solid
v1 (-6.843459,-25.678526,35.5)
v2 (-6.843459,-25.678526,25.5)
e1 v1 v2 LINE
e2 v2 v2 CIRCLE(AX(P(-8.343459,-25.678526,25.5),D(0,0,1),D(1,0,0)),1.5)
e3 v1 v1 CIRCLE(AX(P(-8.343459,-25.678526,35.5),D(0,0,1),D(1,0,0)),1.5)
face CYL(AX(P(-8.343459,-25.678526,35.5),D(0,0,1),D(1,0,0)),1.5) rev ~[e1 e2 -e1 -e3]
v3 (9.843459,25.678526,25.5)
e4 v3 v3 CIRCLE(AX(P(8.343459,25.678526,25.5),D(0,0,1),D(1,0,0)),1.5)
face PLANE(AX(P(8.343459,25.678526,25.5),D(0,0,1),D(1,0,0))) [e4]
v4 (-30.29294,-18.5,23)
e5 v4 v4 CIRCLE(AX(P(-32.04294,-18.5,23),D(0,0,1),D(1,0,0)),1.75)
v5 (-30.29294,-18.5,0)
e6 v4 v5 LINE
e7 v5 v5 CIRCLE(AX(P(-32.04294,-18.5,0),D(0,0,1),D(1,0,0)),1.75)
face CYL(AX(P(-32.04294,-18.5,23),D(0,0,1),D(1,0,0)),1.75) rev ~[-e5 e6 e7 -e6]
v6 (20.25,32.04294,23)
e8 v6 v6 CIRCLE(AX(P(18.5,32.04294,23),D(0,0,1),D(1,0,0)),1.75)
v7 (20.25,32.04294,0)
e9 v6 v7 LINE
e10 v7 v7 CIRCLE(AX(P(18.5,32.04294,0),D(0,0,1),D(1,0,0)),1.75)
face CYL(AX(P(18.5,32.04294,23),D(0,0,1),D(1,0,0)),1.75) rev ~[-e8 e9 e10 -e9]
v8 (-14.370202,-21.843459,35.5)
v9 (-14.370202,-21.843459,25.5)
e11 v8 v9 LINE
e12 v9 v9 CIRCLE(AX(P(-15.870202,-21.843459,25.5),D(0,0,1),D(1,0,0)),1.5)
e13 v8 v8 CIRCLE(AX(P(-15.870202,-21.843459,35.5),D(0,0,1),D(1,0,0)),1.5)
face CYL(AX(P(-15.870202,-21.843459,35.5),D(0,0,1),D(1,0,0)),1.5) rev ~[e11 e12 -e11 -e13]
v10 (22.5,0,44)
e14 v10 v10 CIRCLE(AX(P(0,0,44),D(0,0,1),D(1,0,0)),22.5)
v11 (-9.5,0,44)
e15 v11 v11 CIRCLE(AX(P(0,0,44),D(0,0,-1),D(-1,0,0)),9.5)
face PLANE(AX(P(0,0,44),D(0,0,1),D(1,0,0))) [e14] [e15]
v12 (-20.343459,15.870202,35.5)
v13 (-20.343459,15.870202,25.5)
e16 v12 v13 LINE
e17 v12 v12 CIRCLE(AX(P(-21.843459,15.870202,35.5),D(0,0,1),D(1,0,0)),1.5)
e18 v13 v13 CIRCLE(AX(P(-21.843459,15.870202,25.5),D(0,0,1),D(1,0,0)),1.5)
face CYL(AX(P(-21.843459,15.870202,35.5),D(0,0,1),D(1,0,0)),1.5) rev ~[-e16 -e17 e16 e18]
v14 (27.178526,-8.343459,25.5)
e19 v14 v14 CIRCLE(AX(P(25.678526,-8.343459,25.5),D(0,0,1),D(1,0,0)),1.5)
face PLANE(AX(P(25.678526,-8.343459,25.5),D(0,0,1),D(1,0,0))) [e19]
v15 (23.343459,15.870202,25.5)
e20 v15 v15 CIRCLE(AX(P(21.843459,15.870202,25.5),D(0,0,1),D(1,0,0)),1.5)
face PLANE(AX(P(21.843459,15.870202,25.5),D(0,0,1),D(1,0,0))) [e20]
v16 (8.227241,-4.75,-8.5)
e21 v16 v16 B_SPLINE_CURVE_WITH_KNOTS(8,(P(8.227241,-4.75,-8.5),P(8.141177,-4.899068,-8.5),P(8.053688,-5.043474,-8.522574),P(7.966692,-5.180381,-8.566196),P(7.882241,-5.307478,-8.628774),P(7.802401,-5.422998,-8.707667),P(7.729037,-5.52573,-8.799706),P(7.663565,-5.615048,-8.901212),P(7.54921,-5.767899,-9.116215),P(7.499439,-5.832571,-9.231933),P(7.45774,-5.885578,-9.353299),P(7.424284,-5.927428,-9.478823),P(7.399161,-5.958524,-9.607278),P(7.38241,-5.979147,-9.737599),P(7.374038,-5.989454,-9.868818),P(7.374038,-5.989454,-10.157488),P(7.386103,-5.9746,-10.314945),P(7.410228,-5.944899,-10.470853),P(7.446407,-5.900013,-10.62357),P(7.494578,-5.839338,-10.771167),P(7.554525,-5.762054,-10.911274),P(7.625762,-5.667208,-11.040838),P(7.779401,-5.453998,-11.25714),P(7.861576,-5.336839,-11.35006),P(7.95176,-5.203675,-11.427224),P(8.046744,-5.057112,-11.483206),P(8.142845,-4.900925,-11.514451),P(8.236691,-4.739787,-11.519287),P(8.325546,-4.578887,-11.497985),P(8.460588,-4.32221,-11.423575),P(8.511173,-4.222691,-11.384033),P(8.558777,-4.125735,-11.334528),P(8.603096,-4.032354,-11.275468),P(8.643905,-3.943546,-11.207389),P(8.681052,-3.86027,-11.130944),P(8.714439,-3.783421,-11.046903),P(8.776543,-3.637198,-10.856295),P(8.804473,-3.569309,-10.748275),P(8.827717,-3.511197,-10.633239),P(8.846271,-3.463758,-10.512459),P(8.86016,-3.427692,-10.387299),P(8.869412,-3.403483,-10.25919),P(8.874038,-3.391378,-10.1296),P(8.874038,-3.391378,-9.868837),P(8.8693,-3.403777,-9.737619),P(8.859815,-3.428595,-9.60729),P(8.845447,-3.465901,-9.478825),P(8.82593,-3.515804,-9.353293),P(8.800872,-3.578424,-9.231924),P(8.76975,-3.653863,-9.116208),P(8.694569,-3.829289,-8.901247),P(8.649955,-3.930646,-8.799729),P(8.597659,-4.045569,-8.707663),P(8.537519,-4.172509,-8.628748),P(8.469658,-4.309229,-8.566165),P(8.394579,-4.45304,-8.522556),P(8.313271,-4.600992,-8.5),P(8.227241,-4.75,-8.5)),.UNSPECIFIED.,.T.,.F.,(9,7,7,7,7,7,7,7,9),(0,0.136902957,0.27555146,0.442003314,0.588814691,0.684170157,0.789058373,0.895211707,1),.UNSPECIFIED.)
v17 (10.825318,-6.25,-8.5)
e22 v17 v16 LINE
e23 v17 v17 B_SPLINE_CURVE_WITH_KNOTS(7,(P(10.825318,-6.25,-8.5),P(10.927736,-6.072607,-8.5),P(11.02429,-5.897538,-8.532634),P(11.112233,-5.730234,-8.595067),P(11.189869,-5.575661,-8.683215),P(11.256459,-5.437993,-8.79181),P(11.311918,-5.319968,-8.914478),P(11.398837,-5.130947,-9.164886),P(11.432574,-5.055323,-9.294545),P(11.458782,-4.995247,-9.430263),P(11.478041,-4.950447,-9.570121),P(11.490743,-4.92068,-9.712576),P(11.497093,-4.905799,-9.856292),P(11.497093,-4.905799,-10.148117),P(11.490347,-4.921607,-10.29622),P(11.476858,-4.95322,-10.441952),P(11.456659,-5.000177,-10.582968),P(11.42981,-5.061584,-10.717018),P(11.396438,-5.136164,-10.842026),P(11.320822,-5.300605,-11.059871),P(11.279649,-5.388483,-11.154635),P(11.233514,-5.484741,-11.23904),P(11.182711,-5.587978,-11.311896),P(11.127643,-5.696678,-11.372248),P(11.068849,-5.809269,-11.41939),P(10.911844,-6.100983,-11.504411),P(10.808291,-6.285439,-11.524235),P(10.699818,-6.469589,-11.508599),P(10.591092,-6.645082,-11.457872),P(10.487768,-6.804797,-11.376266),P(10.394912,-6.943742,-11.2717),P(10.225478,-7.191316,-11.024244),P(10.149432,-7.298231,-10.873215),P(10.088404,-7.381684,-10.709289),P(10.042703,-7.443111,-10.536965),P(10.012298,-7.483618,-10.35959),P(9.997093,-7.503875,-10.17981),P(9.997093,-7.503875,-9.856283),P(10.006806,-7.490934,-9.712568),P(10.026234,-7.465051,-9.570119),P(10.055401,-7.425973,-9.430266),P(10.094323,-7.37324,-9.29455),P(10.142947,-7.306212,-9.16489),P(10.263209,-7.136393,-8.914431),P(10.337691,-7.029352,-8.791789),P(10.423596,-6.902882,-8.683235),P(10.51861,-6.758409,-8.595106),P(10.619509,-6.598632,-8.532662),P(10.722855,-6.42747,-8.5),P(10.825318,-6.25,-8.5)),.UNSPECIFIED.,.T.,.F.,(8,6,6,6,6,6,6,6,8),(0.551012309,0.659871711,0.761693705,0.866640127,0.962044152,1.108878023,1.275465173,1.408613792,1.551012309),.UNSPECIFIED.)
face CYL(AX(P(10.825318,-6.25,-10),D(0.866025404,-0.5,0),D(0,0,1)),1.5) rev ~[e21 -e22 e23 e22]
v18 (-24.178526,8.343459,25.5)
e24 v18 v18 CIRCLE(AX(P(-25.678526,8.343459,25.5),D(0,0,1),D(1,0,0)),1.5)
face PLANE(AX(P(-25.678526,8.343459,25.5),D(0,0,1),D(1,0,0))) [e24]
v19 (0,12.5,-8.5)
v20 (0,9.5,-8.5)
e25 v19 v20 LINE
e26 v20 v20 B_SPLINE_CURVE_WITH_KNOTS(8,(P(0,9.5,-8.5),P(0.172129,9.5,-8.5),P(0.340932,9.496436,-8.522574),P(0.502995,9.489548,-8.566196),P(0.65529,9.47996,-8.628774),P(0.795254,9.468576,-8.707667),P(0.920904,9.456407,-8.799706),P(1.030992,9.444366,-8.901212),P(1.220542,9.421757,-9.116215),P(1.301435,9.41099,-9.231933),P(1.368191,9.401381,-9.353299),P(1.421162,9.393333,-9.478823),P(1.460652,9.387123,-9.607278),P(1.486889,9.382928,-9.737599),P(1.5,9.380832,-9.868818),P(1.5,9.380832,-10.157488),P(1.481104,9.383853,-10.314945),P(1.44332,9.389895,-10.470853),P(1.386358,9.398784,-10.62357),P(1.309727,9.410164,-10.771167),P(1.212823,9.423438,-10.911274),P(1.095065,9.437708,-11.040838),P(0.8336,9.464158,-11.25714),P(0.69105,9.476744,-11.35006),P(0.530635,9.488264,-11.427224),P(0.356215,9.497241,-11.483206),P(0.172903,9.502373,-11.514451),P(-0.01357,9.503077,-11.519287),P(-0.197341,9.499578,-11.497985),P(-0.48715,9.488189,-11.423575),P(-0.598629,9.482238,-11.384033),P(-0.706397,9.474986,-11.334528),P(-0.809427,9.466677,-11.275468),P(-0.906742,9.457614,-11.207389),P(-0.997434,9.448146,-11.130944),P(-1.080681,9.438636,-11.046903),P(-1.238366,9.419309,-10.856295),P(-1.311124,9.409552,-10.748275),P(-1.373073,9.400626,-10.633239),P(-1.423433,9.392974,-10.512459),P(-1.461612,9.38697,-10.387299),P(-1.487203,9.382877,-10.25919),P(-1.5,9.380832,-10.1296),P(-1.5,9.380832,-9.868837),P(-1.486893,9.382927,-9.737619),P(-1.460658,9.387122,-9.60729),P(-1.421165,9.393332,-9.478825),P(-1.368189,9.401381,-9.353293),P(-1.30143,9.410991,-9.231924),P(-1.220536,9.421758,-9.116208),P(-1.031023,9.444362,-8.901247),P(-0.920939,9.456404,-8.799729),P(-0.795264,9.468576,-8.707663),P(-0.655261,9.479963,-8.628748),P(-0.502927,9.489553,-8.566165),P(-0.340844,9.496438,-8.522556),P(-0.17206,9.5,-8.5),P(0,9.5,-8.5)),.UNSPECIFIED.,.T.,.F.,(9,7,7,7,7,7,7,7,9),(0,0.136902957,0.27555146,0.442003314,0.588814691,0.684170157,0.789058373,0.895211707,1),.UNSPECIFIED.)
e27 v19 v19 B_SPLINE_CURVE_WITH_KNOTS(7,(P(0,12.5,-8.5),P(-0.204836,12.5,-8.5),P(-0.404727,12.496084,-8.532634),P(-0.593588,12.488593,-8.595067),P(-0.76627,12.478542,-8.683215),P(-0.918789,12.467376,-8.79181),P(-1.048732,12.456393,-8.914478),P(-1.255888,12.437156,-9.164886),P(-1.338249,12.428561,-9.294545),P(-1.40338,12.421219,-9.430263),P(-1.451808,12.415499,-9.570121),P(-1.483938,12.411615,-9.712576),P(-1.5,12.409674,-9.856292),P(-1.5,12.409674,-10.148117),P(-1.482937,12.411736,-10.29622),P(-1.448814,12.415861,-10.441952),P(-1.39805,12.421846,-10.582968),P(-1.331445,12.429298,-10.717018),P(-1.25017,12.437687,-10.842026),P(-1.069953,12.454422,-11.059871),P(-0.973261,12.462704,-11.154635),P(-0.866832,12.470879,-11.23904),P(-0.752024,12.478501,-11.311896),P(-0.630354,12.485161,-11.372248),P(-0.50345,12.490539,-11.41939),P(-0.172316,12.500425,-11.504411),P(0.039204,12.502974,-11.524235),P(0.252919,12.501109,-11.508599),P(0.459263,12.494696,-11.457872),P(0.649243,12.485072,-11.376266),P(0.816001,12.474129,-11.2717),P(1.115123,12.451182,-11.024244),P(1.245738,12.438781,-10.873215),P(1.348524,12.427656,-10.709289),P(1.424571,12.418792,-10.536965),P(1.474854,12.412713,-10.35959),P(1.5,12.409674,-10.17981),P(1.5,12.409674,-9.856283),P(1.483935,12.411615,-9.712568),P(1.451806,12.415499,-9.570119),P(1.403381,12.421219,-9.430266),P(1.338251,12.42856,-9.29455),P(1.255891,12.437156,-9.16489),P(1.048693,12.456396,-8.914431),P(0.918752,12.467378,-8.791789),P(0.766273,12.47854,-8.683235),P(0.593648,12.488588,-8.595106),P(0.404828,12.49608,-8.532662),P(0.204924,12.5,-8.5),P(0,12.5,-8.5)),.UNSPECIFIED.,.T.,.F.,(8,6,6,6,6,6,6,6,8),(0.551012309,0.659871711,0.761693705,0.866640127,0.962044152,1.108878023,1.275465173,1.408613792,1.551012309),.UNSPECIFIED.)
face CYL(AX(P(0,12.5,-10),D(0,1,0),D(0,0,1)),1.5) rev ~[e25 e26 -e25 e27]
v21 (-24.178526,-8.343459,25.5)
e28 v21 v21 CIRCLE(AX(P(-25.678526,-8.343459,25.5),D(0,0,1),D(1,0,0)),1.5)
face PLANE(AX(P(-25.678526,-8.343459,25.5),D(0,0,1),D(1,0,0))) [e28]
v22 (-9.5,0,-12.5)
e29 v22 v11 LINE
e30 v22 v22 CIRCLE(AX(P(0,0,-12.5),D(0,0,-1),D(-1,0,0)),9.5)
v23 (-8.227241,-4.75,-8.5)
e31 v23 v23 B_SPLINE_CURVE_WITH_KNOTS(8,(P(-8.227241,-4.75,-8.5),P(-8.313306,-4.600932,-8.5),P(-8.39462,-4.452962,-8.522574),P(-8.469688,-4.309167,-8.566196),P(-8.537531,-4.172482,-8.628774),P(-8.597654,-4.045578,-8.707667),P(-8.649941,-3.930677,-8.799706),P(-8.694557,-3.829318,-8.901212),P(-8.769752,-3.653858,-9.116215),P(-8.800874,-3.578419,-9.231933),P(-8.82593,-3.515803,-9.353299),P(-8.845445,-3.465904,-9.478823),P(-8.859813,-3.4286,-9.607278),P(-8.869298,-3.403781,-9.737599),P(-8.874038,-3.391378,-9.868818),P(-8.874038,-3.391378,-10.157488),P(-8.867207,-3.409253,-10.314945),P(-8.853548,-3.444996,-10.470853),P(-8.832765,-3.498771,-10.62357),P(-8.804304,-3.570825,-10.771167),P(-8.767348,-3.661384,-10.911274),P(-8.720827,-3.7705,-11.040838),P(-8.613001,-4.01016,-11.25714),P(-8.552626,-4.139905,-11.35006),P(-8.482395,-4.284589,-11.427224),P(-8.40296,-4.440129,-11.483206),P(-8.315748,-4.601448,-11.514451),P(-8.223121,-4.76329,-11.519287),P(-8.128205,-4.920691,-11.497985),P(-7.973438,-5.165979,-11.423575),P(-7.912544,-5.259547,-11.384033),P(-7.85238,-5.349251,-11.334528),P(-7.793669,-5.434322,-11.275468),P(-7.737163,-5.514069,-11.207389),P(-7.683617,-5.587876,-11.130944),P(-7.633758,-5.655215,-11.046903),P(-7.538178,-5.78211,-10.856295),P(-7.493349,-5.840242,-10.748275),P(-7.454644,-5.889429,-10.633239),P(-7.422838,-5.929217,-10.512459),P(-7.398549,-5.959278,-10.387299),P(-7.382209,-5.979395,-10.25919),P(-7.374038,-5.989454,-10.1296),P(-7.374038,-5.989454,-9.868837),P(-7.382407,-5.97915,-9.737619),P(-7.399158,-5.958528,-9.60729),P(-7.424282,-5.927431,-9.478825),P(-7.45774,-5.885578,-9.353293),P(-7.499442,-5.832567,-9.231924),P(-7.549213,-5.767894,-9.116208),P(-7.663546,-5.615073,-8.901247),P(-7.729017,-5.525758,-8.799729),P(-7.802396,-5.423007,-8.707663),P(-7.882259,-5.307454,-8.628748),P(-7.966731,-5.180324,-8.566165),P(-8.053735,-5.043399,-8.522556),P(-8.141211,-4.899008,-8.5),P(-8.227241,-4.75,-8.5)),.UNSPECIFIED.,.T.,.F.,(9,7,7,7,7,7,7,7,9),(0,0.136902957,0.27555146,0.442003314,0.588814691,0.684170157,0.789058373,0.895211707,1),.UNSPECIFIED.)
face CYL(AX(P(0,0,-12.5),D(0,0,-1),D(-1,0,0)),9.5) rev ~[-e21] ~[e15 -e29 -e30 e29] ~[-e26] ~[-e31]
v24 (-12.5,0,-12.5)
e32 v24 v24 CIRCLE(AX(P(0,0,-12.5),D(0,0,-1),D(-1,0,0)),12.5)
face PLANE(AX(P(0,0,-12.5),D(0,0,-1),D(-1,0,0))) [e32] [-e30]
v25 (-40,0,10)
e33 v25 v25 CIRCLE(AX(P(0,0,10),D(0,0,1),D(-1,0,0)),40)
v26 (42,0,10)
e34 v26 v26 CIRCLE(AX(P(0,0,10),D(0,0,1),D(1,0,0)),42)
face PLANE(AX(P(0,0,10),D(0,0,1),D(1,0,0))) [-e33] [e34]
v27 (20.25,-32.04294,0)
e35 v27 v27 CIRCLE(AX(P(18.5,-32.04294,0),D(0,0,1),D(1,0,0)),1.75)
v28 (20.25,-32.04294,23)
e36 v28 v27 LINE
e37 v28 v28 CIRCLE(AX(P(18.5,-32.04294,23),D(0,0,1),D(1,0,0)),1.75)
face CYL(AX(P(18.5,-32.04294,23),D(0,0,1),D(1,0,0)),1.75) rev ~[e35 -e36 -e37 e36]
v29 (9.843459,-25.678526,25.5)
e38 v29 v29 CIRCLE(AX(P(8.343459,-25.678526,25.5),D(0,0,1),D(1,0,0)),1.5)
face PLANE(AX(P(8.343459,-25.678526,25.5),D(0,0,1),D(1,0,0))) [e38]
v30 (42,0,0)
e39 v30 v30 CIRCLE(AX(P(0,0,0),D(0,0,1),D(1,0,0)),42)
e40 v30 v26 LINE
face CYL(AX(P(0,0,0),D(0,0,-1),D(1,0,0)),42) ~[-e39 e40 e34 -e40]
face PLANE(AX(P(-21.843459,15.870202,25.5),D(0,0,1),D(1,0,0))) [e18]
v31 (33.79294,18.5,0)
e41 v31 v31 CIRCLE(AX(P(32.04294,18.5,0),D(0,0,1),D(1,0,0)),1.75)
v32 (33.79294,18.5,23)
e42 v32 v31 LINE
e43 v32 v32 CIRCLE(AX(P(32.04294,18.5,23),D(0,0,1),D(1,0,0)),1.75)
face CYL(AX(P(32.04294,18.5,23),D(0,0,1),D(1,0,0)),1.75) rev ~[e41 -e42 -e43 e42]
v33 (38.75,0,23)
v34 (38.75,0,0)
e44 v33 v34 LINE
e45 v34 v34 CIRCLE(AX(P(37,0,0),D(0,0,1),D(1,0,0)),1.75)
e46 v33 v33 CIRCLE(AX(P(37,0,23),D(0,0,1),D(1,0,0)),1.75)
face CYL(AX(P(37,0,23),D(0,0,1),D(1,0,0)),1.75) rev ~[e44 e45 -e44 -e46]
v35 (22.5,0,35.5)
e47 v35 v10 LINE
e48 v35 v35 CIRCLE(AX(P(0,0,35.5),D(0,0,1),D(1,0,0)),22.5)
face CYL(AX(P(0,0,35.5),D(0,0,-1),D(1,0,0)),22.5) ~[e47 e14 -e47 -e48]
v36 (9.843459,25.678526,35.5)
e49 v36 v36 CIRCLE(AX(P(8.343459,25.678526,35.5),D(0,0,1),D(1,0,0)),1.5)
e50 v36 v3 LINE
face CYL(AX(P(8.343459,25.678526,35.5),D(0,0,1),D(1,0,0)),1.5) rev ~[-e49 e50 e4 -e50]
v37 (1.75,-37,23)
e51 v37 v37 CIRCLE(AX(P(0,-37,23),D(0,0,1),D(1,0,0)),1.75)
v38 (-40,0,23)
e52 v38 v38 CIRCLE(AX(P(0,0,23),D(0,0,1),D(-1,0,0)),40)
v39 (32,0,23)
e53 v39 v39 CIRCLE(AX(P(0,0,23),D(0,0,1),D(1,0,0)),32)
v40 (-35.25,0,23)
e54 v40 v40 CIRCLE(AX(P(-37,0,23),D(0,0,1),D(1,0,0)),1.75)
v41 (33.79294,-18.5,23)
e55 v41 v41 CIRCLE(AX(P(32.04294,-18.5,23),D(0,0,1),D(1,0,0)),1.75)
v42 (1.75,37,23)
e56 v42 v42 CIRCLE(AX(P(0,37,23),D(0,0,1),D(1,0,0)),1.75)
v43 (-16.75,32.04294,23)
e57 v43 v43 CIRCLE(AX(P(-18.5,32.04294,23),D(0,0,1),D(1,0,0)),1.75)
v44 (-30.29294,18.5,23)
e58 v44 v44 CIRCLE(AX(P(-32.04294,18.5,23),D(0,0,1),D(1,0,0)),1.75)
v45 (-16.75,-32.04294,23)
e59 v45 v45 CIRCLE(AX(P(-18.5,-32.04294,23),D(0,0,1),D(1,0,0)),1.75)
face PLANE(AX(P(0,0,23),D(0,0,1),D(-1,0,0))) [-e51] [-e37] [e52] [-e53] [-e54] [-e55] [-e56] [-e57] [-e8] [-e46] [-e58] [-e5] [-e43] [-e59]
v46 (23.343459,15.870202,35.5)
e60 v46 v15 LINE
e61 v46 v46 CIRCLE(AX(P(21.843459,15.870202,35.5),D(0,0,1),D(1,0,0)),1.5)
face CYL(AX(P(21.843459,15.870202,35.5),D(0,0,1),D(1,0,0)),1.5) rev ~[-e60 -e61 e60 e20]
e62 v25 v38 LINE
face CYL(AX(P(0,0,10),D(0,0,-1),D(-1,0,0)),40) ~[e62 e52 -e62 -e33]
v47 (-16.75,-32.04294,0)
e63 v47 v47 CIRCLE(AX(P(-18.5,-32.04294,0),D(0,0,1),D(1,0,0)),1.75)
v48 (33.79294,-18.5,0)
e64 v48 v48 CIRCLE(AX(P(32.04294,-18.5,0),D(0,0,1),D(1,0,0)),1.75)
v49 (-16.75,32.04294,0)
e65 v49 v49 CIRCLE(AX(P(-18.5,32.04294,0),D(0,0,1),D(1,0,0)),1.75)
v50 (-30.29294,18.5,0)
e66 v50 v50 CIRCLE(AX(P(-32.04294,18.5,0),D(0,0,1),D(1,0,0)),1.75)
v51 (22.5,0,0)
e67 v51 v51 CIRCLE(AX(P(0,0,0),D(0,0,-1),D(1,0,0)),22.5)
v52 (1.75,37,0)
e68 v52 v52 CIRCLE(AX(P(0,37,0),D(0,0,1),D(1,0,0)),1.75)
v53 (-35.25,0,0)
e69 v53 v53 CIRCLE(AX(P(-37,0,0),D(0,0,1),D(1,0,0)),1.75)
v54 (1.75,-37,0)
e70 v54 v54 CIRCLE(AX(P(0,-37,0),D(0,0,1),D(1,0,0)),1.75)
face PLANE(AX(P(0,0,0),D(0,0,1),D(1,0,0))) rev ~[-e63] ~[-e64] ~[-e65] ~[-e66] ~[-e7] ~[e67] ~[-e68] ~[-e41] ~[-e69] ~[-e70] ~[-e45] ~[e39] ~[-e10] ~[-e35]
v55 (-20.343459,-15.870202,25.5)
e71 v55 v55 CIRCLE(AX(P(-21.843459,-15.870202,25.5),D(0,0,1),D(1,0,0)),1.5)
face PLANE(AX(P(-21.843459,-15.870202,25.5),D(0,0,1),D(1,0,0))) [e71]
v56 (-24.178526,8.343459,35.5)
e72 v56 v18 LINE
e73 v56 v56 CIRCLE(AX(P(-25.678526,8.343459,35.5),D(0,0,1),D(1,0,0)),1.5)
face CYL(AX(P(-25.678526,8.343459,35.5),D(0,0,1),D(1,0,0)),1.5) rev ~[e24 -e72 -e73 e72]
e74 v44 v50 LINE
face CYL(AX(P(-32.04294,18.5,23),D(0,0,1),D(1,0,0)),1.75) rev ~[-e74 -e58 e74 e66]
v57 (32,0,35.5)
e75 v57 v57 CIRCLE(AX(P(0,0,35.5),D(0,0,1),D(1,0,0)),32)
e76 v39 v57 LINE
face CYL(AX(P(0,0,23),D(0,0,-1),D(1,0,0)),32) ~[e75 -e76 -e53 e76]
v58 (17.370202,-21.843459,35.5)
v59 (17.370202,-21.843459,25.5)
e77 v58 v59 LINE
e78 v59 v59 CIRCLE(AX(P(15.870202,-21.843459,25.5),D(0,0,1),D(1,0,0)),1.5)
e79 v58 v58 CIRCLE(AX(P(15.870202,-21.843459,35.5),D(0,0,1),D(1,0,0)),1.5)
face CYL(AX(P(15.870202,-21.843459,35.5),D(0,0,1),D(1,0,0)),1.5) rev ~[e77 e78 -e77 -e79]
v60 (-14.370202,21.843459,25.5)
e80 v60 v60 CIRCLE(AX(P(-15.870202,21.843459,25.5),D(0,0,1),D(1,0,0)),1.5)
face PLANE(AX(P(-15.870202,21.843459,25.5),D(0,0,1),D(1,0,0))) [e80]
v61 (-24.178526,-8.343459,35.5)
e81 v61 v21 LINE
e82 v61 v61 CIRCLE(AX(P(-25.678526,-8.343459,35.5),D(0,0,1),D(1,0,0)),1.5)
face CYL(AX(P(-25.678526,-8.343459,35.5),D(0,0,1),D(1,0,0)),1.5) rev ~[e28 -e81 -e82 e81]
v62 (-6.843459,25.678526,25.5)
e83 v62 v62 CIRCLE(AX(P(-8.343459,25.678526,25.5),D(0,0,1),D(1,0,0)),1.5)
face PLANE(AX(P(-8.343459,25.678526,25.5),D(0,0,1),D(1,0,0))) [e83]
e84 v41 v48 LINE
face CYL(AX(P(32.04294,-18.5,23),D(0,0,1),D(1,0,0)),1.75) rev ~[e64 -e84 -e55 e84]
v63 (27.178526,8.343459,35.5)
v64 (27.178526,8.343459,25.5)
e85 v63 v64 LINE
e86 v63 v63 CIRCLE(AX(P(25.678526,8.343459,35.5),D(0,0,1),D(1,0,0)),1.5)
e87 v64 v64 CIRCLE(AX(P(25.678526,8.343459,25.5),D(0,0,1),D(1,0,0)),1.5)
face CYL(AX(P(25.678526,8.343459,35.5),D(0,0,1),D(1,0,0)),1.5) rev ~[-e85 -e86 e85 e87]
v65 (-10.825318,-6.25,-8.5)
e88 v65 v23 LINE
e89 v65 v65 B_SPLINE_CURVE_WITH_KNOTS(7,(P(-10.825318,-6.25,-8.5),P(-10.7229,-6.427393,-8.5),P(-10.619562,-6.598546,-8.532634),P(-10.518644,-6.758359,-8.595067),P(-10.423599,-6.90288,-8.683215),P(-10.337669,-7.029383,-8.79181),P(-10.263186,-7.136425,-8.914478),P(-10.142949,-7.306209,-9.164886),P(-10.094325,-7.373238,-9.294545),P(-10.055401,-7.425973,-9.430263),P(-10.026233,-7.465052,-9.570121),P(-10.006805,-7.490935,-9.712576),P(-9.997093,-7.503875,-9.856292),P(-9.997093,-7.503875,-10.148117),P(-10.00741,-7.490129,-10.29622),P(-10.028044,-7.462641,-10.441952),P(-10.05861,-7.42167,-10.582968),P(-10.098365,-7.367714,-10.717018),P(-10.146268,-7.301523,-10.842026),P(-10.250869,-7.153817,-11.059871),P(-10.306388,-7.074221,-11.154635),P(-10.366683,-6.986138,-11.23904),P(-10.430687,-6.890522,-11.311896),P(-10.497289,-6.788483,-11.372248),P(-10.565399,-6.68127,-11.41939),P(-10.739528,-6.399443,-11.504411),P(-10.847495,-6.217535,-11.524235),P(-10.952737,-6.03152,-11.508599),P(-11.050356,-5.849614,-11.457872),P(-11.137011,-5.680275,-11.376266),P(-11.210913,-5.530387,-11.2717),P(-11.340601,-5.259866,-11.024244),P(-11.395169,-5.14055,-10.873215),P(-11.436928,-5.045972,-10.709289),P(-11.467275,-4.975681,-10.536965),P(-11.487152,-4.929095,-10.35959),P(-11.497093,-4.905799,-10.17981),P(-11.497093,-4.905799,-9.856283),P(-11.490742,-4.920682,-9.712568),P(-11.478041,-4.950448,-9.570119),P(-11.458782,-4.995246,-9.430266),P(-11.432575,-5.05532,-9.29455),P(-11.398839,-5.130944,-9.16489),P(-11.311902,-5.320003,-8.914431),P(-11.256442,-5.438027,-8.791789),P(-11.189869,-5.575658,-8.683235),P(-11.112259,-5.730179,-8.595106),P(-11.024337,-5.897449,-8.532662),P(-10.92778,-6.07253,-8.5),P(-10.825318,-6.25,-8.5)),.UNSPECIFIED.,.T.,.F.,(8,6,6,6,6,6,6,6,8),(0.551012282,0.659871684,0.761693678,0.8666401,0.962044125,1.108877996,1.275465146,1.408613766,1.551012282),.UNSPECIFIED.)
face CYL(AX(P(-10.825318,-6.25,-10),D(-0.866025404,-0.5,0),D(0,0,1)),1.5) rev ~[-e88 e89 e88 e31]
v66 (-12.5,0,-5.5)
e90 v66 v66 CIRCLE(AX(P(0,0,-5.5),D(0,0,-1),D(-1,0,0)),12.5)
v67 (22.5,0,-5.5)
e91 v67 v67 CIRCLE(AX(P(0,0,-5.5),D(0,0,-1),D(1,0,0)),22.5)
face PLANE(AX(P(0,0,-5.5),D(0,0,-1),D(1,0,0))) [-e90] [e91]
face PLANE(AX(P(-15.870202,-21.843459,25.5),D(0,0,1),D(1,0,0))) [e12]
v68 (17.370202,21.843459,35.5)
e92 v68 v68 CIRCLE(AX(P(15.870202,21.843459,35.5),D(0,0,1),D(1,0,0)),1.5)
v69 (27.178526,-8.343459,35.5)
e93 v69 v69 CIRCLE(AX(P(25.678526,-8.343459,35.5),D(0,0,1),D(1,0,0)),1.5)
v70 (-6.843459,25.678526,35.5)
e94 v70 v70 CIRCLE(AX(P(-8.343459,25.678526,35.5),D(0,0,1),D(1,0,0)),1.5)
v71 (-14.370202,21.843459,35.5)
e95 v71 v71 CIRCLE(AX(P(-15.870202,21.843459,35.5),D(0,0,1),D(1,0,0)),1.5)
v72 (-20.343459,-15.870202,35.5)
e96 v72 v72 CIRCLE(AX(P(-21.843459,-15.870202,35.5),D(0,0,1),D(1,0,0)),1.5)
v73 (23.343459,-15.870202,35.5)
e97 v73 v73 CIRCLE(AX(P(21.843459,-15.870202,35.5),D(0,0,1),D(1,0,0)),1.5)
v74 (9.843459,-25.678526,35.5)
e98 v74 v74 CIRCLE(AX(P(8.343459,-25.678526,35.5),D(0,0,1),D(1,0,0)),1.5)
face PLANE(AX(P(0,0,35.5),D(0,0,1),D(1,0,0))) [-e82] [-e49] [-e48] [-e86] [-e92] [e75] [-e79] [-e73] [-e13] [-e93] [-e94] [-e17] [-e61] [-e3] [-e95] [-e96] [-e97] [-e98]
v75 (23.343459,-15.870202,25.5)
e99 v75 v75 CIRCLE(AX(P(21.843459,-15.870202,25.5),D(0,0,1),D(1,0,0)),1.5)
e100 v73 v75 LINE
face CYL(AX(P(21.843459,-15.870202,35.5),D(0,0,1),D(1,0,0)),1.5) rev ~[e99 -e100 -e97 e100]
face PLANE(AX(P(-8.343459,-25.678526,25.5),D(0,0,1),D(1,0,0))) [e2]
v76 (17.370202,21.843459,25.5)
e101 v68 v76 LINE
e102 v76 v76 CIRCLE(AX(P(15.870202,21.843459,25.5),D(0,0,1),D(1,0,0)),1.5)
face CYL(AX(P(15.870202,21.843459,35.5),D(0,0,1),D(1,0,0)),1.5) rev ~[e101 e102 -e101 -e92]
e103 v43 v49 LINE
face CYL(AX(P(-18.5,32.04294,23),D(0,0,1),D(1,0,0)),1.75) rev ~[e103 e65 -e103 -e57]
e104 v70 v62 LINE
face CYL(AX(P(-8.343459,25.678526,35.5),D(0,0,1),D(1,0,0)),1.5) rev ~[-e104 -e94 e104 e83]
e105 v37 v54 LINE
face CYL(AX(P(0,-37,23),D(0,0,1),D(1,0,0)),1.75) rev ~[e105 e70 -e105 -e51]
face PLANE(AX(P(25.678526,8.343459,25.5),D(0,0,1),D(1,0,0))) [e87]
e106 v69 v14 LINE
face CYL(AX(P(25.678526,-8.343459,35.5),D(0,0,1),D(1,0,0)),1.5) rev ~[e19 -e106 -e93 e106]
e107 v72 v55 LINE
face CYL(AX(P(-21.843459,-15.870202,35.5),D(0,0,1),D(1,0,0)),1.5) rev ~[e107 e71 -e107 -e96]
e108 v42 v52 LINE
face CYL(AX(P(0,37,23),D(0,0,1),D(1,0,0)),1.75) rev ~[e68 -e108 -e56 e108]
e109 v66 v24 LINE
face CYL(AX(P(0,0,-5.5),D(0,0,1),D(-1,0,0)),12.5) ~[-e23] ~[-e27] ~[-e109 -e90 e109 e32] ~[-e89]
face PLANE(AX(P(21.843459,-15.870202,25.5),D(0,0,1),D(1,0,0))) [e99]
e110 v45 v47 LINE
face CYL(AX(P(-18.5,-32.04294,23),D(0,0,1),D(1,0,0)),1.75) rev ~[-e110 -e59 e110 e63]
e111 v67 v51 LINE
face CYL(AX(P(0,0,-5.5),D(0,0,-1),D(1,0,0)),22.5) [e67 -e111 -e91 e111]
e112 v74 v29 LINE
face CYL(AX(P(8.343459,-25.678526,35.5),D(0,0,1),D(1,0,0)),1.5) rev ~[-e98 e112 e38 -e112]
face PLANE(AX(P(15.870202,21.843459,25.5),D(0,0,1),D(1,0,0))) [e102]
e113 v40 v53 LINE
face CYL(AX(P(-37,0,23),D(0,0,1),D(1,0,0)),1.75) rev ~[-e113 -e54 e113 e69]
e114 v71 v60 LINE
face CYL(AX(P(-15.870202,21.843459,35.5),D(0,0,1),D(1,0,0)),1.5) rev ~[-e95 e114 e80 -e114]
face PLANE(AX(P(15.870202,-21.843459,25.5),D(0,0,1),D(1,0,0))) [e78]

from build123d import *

# Parameters (mm, degrees)
SKETCH_1_R               = 42
EXTRUDE_1_DEPTH          = 10
SKETCH_2_R               = 40
EXTRUDE_2_DEPTH          = 13
SKETCH_3_R               = 32
EXTRUDE_3_DEPTH          = 12.5
SKETCH_4_R               = 22.5
EXTRUDE_4_DEPTH          = 8.5
EXTRUDE_START            = 5.5
SKETCH_5_R               = 22.5
EXTRUDE_5_DEPTH          = 5.5
SKETCH_6_R               = 12.5
EXTRUDE_6_DEPTH          = 7
SKETCH_7_R               = 9.5
CUT_EXTRUDE_1_DEPTH      = 56.5
SKETCH_8_R               = 1.75
CUT_EXTRUDE_2_DEPTH      = 23
SKETCH_9_R               = 1.5
CUT_EXTRUDE_3_DEPTH      = 10
CUT_EXTRUDE_4_REACH      = 83.672
CUT_EXTRUDE_4_END_RADIUS = 9.5
SKETCH_11_R              = 1.5
PATTERN_CIRCULAR_1_COUNT = 3


with BuildPart() as part:
    # Эскиз1 → Бобышка-Вытянуть1 (new body)
    with BuildSketch(Plane.XY):
        Circle(SKETCH_1_R)
    extrude(amount=EXTRUDE_1_DEPTH)

    # Эскиз2 → Бобышка-Вытянуть2 (add)
    with BuildSketch(Plane.XY.offset(10)):
        with Locations(Location((0, 0, 0), (0, 0, 180))):
            Circle(SKETCH_2_R)
    extrude(amount=EXTRUDE_2_DEPTH)

    # Эскиз3 → Бобышка-Вытянуть3 (add)
    with BuildSketch(Plane.XY.offset(23)):
        Circle(SKETCH_3_R)
    extrude(amount=EXTRUDE_3_DEPTH)

    # Эскиз4 → Бобышка-Вытянуть4 (add)
    with BuildSketch(Plane.XY.offset(35.5)):
        Circle(SKETCH_4_R)
    extrude(amount=EXTRUDE_4_DEPTH)

    # Эскиз5 → Бобышка-Вытянуть5 (add)
    with BuildSketch(Plane(origin=(0, 0, 0), x_dir=(-1, 0, 0), z_dir=(0, 0, -1)).offset(EXTRUDE_START)):
        with Locations(Location((0, 0, 0), (0, 0, 180))):
            Circle(SKETCH_5_R)
    extrude(amount=-EXTRUDE_5_DEPTH)

    # Эскиз6 → Бобышка-Вытянуть6 (add)
    with BuildSketch(Plane(origin=(0, 0, -5.5), x_dir=(-1, 0, 0), z_dir=(0, 0, -1))):
        Circle(SKETCH_6_R)
    extrude(amount=EXTRUDE_6_DEPTH)

    # Эскиз7 → Вырез-Вытянуть1 (cut)
    with BuildSketch(Plane(origin=(0, 0, -12.5), x_dir=(-1, 0, 0), z_dir=(0, 0, -1))):
        Circle(SKETCH_7_R)
    extrude(amount=-CUT_EXTRUDE_1_DEPTH, mode=Mode.SUBTRACT)

    # Эскиз8 → Вырез-Вытянуть2 (cut)
    with BuildSketch(Plane.XY.offset(23)):
        with Locations((0, 37)):
            Circle(SKETCH_8_R)
        with Locations((18.5, 32.04293994)):
            Circle(SKETCH_8_R)
        with Locations((32.04293994, 18.5)):
            Circle(SKETCH_8_R)
        with Locations((37, 0)):
            Circle(SKETCH_8_R)
        with Locations((32.04293994, -18.5)):
            Circle(SKETCH_8_R)
        with Locations((18.5, -32.04293994)):
            Circle(SKETCH_8_R)
        with Locations((0, -37)):
            Circle(SKETCH_8_R)
        with Locations((-18.5, -32.04293994)):
            Circle(SKETCH_8_R)
        with Locations((-32.04293994, -18.5)):
            Circle(SKETCH_8_R)
        with Locations((-37, 0)):
            Circle(SKETCH_8_R)
        with Locations((-32.04293994, 18.5)):
            Circle(SKETCH_8_R)
        with Locations((-18.5, 32.04293994)):
            Circle(SKETCH_8_R)
    extrude(amount=-CUT_EXTRUDE_2_DEPTH, mode=Mode.SUBTRACT)

    # Эскиз9 → Вырез-Вытянуть3 (cut)
    with BuildSketch(Plane.XY.offset(35.5)):
        with Locations((-8.343458848, 25.67852594)):
            Circle(SKETCH_9_R)
        with Locations((8.343458848, 25.67852594)):
            Circle(SKETCH_9_R)
        with Locations((15.870201812, 21.843458848)):
            Circle(SKETCH_9_R)
        with Locations((21.843458848, 15.870201812)):
            Circle(SKETCH_9_R)
        with Locations((25.67852594, 8.343458848)):
            Circle(SKETCH_9_R)
        with Locations((25.67852594, -8.343458848)):
            Circle(SKETCH_9_R)
        with Locations((21.843458848, -15.870201812)):
            Circle(SKETCH_9_R)
        with Locations((15.870201812, -21.843458848)):
            Circle(SKETCH_9_R)
        with Locations((8.343458848, -25.67852594)):
            Circle(SKETCH_9_R)
        with Locations((-8.343458848, -25.67852594)):
            Circle(SKETCH_9_R)
        with Locations((-15.870201812, -21.843458848)):
            Circle(SKETCH_9_R)
        with Locations((-21.843458848, -15.870201812)):
            Circle(SKETCH_9_R)
        with Locations((-25.67852594, -8.343458848)):
            Circle(SKETCH_9_R)
        with Locations((-25.67852594, 8.343458848)):
            Circle(SKETCH_9_R)
        with Locations((-21.843458848, 15.870201812)):
            Circle(SKETCH_9_R)
        with Locations((-15.870201812, 21.843458848)):
            Circle(SKETCH_9_R)
    extrude(amount=-CUT_EXTRUDE_3_DEPTH, mode=Mode.SUBTRACT)

    # Вырез-Вытянуть4: up to this cylinder (the profile starts outside it)
    cut_extrude_4_end = Plane(origin=(0, 0, -10), z_dir=(0, 0, -1)) * Cylinder(CUT_EXTRUDE_4_END_RADIUS, 187.344, mode=Mode.PRIVATE)
    # Эскиз11 → Вырез-Вытянуть4 (cut, up to the surface)
    with BuildSketch(Plane(origin=(0, 12.5, 0), x_dir=(1, 0, 0), z_dir=(0, 1, 0)), mode=Mode.PRIVATE) as cut_extrude_4_sk1:
        with Locations(Location((0, 10, 0), (0, 0, 270))):
            Circle(SKETCH_11_R)
    cut_extrude_4_tool1 = extrude(cut_extrude_4_sk1.sketch, amount=-CUT_EXTRUDE_4_REACH, mode=Mode.PRIVATE) - cut_extrude_4_end
    cut_extrude_4 = cut_extrude_4_tool1.solids().sort_by_distance((0, 12.5, -10))[0]
    add(cut_extrude_4, mode=Mode.SUBTRACT)

    # Круговой массив1: Вырез-Вытянуть4 ×3 about axis
    pattern_circular_1_axis = Axis((0, 0, 70.870057685), (0, 0, -1))
    for i in range(1, PATTERN_CIRCULAR_1_COUNT):
        add(cut_extrude_4.rotate(pattern_circular_1_axis, i * 360 / PATTERN_CIRCULAR_1_COUNT), mode=Mode.SUBTRACT)


solid = part.part
